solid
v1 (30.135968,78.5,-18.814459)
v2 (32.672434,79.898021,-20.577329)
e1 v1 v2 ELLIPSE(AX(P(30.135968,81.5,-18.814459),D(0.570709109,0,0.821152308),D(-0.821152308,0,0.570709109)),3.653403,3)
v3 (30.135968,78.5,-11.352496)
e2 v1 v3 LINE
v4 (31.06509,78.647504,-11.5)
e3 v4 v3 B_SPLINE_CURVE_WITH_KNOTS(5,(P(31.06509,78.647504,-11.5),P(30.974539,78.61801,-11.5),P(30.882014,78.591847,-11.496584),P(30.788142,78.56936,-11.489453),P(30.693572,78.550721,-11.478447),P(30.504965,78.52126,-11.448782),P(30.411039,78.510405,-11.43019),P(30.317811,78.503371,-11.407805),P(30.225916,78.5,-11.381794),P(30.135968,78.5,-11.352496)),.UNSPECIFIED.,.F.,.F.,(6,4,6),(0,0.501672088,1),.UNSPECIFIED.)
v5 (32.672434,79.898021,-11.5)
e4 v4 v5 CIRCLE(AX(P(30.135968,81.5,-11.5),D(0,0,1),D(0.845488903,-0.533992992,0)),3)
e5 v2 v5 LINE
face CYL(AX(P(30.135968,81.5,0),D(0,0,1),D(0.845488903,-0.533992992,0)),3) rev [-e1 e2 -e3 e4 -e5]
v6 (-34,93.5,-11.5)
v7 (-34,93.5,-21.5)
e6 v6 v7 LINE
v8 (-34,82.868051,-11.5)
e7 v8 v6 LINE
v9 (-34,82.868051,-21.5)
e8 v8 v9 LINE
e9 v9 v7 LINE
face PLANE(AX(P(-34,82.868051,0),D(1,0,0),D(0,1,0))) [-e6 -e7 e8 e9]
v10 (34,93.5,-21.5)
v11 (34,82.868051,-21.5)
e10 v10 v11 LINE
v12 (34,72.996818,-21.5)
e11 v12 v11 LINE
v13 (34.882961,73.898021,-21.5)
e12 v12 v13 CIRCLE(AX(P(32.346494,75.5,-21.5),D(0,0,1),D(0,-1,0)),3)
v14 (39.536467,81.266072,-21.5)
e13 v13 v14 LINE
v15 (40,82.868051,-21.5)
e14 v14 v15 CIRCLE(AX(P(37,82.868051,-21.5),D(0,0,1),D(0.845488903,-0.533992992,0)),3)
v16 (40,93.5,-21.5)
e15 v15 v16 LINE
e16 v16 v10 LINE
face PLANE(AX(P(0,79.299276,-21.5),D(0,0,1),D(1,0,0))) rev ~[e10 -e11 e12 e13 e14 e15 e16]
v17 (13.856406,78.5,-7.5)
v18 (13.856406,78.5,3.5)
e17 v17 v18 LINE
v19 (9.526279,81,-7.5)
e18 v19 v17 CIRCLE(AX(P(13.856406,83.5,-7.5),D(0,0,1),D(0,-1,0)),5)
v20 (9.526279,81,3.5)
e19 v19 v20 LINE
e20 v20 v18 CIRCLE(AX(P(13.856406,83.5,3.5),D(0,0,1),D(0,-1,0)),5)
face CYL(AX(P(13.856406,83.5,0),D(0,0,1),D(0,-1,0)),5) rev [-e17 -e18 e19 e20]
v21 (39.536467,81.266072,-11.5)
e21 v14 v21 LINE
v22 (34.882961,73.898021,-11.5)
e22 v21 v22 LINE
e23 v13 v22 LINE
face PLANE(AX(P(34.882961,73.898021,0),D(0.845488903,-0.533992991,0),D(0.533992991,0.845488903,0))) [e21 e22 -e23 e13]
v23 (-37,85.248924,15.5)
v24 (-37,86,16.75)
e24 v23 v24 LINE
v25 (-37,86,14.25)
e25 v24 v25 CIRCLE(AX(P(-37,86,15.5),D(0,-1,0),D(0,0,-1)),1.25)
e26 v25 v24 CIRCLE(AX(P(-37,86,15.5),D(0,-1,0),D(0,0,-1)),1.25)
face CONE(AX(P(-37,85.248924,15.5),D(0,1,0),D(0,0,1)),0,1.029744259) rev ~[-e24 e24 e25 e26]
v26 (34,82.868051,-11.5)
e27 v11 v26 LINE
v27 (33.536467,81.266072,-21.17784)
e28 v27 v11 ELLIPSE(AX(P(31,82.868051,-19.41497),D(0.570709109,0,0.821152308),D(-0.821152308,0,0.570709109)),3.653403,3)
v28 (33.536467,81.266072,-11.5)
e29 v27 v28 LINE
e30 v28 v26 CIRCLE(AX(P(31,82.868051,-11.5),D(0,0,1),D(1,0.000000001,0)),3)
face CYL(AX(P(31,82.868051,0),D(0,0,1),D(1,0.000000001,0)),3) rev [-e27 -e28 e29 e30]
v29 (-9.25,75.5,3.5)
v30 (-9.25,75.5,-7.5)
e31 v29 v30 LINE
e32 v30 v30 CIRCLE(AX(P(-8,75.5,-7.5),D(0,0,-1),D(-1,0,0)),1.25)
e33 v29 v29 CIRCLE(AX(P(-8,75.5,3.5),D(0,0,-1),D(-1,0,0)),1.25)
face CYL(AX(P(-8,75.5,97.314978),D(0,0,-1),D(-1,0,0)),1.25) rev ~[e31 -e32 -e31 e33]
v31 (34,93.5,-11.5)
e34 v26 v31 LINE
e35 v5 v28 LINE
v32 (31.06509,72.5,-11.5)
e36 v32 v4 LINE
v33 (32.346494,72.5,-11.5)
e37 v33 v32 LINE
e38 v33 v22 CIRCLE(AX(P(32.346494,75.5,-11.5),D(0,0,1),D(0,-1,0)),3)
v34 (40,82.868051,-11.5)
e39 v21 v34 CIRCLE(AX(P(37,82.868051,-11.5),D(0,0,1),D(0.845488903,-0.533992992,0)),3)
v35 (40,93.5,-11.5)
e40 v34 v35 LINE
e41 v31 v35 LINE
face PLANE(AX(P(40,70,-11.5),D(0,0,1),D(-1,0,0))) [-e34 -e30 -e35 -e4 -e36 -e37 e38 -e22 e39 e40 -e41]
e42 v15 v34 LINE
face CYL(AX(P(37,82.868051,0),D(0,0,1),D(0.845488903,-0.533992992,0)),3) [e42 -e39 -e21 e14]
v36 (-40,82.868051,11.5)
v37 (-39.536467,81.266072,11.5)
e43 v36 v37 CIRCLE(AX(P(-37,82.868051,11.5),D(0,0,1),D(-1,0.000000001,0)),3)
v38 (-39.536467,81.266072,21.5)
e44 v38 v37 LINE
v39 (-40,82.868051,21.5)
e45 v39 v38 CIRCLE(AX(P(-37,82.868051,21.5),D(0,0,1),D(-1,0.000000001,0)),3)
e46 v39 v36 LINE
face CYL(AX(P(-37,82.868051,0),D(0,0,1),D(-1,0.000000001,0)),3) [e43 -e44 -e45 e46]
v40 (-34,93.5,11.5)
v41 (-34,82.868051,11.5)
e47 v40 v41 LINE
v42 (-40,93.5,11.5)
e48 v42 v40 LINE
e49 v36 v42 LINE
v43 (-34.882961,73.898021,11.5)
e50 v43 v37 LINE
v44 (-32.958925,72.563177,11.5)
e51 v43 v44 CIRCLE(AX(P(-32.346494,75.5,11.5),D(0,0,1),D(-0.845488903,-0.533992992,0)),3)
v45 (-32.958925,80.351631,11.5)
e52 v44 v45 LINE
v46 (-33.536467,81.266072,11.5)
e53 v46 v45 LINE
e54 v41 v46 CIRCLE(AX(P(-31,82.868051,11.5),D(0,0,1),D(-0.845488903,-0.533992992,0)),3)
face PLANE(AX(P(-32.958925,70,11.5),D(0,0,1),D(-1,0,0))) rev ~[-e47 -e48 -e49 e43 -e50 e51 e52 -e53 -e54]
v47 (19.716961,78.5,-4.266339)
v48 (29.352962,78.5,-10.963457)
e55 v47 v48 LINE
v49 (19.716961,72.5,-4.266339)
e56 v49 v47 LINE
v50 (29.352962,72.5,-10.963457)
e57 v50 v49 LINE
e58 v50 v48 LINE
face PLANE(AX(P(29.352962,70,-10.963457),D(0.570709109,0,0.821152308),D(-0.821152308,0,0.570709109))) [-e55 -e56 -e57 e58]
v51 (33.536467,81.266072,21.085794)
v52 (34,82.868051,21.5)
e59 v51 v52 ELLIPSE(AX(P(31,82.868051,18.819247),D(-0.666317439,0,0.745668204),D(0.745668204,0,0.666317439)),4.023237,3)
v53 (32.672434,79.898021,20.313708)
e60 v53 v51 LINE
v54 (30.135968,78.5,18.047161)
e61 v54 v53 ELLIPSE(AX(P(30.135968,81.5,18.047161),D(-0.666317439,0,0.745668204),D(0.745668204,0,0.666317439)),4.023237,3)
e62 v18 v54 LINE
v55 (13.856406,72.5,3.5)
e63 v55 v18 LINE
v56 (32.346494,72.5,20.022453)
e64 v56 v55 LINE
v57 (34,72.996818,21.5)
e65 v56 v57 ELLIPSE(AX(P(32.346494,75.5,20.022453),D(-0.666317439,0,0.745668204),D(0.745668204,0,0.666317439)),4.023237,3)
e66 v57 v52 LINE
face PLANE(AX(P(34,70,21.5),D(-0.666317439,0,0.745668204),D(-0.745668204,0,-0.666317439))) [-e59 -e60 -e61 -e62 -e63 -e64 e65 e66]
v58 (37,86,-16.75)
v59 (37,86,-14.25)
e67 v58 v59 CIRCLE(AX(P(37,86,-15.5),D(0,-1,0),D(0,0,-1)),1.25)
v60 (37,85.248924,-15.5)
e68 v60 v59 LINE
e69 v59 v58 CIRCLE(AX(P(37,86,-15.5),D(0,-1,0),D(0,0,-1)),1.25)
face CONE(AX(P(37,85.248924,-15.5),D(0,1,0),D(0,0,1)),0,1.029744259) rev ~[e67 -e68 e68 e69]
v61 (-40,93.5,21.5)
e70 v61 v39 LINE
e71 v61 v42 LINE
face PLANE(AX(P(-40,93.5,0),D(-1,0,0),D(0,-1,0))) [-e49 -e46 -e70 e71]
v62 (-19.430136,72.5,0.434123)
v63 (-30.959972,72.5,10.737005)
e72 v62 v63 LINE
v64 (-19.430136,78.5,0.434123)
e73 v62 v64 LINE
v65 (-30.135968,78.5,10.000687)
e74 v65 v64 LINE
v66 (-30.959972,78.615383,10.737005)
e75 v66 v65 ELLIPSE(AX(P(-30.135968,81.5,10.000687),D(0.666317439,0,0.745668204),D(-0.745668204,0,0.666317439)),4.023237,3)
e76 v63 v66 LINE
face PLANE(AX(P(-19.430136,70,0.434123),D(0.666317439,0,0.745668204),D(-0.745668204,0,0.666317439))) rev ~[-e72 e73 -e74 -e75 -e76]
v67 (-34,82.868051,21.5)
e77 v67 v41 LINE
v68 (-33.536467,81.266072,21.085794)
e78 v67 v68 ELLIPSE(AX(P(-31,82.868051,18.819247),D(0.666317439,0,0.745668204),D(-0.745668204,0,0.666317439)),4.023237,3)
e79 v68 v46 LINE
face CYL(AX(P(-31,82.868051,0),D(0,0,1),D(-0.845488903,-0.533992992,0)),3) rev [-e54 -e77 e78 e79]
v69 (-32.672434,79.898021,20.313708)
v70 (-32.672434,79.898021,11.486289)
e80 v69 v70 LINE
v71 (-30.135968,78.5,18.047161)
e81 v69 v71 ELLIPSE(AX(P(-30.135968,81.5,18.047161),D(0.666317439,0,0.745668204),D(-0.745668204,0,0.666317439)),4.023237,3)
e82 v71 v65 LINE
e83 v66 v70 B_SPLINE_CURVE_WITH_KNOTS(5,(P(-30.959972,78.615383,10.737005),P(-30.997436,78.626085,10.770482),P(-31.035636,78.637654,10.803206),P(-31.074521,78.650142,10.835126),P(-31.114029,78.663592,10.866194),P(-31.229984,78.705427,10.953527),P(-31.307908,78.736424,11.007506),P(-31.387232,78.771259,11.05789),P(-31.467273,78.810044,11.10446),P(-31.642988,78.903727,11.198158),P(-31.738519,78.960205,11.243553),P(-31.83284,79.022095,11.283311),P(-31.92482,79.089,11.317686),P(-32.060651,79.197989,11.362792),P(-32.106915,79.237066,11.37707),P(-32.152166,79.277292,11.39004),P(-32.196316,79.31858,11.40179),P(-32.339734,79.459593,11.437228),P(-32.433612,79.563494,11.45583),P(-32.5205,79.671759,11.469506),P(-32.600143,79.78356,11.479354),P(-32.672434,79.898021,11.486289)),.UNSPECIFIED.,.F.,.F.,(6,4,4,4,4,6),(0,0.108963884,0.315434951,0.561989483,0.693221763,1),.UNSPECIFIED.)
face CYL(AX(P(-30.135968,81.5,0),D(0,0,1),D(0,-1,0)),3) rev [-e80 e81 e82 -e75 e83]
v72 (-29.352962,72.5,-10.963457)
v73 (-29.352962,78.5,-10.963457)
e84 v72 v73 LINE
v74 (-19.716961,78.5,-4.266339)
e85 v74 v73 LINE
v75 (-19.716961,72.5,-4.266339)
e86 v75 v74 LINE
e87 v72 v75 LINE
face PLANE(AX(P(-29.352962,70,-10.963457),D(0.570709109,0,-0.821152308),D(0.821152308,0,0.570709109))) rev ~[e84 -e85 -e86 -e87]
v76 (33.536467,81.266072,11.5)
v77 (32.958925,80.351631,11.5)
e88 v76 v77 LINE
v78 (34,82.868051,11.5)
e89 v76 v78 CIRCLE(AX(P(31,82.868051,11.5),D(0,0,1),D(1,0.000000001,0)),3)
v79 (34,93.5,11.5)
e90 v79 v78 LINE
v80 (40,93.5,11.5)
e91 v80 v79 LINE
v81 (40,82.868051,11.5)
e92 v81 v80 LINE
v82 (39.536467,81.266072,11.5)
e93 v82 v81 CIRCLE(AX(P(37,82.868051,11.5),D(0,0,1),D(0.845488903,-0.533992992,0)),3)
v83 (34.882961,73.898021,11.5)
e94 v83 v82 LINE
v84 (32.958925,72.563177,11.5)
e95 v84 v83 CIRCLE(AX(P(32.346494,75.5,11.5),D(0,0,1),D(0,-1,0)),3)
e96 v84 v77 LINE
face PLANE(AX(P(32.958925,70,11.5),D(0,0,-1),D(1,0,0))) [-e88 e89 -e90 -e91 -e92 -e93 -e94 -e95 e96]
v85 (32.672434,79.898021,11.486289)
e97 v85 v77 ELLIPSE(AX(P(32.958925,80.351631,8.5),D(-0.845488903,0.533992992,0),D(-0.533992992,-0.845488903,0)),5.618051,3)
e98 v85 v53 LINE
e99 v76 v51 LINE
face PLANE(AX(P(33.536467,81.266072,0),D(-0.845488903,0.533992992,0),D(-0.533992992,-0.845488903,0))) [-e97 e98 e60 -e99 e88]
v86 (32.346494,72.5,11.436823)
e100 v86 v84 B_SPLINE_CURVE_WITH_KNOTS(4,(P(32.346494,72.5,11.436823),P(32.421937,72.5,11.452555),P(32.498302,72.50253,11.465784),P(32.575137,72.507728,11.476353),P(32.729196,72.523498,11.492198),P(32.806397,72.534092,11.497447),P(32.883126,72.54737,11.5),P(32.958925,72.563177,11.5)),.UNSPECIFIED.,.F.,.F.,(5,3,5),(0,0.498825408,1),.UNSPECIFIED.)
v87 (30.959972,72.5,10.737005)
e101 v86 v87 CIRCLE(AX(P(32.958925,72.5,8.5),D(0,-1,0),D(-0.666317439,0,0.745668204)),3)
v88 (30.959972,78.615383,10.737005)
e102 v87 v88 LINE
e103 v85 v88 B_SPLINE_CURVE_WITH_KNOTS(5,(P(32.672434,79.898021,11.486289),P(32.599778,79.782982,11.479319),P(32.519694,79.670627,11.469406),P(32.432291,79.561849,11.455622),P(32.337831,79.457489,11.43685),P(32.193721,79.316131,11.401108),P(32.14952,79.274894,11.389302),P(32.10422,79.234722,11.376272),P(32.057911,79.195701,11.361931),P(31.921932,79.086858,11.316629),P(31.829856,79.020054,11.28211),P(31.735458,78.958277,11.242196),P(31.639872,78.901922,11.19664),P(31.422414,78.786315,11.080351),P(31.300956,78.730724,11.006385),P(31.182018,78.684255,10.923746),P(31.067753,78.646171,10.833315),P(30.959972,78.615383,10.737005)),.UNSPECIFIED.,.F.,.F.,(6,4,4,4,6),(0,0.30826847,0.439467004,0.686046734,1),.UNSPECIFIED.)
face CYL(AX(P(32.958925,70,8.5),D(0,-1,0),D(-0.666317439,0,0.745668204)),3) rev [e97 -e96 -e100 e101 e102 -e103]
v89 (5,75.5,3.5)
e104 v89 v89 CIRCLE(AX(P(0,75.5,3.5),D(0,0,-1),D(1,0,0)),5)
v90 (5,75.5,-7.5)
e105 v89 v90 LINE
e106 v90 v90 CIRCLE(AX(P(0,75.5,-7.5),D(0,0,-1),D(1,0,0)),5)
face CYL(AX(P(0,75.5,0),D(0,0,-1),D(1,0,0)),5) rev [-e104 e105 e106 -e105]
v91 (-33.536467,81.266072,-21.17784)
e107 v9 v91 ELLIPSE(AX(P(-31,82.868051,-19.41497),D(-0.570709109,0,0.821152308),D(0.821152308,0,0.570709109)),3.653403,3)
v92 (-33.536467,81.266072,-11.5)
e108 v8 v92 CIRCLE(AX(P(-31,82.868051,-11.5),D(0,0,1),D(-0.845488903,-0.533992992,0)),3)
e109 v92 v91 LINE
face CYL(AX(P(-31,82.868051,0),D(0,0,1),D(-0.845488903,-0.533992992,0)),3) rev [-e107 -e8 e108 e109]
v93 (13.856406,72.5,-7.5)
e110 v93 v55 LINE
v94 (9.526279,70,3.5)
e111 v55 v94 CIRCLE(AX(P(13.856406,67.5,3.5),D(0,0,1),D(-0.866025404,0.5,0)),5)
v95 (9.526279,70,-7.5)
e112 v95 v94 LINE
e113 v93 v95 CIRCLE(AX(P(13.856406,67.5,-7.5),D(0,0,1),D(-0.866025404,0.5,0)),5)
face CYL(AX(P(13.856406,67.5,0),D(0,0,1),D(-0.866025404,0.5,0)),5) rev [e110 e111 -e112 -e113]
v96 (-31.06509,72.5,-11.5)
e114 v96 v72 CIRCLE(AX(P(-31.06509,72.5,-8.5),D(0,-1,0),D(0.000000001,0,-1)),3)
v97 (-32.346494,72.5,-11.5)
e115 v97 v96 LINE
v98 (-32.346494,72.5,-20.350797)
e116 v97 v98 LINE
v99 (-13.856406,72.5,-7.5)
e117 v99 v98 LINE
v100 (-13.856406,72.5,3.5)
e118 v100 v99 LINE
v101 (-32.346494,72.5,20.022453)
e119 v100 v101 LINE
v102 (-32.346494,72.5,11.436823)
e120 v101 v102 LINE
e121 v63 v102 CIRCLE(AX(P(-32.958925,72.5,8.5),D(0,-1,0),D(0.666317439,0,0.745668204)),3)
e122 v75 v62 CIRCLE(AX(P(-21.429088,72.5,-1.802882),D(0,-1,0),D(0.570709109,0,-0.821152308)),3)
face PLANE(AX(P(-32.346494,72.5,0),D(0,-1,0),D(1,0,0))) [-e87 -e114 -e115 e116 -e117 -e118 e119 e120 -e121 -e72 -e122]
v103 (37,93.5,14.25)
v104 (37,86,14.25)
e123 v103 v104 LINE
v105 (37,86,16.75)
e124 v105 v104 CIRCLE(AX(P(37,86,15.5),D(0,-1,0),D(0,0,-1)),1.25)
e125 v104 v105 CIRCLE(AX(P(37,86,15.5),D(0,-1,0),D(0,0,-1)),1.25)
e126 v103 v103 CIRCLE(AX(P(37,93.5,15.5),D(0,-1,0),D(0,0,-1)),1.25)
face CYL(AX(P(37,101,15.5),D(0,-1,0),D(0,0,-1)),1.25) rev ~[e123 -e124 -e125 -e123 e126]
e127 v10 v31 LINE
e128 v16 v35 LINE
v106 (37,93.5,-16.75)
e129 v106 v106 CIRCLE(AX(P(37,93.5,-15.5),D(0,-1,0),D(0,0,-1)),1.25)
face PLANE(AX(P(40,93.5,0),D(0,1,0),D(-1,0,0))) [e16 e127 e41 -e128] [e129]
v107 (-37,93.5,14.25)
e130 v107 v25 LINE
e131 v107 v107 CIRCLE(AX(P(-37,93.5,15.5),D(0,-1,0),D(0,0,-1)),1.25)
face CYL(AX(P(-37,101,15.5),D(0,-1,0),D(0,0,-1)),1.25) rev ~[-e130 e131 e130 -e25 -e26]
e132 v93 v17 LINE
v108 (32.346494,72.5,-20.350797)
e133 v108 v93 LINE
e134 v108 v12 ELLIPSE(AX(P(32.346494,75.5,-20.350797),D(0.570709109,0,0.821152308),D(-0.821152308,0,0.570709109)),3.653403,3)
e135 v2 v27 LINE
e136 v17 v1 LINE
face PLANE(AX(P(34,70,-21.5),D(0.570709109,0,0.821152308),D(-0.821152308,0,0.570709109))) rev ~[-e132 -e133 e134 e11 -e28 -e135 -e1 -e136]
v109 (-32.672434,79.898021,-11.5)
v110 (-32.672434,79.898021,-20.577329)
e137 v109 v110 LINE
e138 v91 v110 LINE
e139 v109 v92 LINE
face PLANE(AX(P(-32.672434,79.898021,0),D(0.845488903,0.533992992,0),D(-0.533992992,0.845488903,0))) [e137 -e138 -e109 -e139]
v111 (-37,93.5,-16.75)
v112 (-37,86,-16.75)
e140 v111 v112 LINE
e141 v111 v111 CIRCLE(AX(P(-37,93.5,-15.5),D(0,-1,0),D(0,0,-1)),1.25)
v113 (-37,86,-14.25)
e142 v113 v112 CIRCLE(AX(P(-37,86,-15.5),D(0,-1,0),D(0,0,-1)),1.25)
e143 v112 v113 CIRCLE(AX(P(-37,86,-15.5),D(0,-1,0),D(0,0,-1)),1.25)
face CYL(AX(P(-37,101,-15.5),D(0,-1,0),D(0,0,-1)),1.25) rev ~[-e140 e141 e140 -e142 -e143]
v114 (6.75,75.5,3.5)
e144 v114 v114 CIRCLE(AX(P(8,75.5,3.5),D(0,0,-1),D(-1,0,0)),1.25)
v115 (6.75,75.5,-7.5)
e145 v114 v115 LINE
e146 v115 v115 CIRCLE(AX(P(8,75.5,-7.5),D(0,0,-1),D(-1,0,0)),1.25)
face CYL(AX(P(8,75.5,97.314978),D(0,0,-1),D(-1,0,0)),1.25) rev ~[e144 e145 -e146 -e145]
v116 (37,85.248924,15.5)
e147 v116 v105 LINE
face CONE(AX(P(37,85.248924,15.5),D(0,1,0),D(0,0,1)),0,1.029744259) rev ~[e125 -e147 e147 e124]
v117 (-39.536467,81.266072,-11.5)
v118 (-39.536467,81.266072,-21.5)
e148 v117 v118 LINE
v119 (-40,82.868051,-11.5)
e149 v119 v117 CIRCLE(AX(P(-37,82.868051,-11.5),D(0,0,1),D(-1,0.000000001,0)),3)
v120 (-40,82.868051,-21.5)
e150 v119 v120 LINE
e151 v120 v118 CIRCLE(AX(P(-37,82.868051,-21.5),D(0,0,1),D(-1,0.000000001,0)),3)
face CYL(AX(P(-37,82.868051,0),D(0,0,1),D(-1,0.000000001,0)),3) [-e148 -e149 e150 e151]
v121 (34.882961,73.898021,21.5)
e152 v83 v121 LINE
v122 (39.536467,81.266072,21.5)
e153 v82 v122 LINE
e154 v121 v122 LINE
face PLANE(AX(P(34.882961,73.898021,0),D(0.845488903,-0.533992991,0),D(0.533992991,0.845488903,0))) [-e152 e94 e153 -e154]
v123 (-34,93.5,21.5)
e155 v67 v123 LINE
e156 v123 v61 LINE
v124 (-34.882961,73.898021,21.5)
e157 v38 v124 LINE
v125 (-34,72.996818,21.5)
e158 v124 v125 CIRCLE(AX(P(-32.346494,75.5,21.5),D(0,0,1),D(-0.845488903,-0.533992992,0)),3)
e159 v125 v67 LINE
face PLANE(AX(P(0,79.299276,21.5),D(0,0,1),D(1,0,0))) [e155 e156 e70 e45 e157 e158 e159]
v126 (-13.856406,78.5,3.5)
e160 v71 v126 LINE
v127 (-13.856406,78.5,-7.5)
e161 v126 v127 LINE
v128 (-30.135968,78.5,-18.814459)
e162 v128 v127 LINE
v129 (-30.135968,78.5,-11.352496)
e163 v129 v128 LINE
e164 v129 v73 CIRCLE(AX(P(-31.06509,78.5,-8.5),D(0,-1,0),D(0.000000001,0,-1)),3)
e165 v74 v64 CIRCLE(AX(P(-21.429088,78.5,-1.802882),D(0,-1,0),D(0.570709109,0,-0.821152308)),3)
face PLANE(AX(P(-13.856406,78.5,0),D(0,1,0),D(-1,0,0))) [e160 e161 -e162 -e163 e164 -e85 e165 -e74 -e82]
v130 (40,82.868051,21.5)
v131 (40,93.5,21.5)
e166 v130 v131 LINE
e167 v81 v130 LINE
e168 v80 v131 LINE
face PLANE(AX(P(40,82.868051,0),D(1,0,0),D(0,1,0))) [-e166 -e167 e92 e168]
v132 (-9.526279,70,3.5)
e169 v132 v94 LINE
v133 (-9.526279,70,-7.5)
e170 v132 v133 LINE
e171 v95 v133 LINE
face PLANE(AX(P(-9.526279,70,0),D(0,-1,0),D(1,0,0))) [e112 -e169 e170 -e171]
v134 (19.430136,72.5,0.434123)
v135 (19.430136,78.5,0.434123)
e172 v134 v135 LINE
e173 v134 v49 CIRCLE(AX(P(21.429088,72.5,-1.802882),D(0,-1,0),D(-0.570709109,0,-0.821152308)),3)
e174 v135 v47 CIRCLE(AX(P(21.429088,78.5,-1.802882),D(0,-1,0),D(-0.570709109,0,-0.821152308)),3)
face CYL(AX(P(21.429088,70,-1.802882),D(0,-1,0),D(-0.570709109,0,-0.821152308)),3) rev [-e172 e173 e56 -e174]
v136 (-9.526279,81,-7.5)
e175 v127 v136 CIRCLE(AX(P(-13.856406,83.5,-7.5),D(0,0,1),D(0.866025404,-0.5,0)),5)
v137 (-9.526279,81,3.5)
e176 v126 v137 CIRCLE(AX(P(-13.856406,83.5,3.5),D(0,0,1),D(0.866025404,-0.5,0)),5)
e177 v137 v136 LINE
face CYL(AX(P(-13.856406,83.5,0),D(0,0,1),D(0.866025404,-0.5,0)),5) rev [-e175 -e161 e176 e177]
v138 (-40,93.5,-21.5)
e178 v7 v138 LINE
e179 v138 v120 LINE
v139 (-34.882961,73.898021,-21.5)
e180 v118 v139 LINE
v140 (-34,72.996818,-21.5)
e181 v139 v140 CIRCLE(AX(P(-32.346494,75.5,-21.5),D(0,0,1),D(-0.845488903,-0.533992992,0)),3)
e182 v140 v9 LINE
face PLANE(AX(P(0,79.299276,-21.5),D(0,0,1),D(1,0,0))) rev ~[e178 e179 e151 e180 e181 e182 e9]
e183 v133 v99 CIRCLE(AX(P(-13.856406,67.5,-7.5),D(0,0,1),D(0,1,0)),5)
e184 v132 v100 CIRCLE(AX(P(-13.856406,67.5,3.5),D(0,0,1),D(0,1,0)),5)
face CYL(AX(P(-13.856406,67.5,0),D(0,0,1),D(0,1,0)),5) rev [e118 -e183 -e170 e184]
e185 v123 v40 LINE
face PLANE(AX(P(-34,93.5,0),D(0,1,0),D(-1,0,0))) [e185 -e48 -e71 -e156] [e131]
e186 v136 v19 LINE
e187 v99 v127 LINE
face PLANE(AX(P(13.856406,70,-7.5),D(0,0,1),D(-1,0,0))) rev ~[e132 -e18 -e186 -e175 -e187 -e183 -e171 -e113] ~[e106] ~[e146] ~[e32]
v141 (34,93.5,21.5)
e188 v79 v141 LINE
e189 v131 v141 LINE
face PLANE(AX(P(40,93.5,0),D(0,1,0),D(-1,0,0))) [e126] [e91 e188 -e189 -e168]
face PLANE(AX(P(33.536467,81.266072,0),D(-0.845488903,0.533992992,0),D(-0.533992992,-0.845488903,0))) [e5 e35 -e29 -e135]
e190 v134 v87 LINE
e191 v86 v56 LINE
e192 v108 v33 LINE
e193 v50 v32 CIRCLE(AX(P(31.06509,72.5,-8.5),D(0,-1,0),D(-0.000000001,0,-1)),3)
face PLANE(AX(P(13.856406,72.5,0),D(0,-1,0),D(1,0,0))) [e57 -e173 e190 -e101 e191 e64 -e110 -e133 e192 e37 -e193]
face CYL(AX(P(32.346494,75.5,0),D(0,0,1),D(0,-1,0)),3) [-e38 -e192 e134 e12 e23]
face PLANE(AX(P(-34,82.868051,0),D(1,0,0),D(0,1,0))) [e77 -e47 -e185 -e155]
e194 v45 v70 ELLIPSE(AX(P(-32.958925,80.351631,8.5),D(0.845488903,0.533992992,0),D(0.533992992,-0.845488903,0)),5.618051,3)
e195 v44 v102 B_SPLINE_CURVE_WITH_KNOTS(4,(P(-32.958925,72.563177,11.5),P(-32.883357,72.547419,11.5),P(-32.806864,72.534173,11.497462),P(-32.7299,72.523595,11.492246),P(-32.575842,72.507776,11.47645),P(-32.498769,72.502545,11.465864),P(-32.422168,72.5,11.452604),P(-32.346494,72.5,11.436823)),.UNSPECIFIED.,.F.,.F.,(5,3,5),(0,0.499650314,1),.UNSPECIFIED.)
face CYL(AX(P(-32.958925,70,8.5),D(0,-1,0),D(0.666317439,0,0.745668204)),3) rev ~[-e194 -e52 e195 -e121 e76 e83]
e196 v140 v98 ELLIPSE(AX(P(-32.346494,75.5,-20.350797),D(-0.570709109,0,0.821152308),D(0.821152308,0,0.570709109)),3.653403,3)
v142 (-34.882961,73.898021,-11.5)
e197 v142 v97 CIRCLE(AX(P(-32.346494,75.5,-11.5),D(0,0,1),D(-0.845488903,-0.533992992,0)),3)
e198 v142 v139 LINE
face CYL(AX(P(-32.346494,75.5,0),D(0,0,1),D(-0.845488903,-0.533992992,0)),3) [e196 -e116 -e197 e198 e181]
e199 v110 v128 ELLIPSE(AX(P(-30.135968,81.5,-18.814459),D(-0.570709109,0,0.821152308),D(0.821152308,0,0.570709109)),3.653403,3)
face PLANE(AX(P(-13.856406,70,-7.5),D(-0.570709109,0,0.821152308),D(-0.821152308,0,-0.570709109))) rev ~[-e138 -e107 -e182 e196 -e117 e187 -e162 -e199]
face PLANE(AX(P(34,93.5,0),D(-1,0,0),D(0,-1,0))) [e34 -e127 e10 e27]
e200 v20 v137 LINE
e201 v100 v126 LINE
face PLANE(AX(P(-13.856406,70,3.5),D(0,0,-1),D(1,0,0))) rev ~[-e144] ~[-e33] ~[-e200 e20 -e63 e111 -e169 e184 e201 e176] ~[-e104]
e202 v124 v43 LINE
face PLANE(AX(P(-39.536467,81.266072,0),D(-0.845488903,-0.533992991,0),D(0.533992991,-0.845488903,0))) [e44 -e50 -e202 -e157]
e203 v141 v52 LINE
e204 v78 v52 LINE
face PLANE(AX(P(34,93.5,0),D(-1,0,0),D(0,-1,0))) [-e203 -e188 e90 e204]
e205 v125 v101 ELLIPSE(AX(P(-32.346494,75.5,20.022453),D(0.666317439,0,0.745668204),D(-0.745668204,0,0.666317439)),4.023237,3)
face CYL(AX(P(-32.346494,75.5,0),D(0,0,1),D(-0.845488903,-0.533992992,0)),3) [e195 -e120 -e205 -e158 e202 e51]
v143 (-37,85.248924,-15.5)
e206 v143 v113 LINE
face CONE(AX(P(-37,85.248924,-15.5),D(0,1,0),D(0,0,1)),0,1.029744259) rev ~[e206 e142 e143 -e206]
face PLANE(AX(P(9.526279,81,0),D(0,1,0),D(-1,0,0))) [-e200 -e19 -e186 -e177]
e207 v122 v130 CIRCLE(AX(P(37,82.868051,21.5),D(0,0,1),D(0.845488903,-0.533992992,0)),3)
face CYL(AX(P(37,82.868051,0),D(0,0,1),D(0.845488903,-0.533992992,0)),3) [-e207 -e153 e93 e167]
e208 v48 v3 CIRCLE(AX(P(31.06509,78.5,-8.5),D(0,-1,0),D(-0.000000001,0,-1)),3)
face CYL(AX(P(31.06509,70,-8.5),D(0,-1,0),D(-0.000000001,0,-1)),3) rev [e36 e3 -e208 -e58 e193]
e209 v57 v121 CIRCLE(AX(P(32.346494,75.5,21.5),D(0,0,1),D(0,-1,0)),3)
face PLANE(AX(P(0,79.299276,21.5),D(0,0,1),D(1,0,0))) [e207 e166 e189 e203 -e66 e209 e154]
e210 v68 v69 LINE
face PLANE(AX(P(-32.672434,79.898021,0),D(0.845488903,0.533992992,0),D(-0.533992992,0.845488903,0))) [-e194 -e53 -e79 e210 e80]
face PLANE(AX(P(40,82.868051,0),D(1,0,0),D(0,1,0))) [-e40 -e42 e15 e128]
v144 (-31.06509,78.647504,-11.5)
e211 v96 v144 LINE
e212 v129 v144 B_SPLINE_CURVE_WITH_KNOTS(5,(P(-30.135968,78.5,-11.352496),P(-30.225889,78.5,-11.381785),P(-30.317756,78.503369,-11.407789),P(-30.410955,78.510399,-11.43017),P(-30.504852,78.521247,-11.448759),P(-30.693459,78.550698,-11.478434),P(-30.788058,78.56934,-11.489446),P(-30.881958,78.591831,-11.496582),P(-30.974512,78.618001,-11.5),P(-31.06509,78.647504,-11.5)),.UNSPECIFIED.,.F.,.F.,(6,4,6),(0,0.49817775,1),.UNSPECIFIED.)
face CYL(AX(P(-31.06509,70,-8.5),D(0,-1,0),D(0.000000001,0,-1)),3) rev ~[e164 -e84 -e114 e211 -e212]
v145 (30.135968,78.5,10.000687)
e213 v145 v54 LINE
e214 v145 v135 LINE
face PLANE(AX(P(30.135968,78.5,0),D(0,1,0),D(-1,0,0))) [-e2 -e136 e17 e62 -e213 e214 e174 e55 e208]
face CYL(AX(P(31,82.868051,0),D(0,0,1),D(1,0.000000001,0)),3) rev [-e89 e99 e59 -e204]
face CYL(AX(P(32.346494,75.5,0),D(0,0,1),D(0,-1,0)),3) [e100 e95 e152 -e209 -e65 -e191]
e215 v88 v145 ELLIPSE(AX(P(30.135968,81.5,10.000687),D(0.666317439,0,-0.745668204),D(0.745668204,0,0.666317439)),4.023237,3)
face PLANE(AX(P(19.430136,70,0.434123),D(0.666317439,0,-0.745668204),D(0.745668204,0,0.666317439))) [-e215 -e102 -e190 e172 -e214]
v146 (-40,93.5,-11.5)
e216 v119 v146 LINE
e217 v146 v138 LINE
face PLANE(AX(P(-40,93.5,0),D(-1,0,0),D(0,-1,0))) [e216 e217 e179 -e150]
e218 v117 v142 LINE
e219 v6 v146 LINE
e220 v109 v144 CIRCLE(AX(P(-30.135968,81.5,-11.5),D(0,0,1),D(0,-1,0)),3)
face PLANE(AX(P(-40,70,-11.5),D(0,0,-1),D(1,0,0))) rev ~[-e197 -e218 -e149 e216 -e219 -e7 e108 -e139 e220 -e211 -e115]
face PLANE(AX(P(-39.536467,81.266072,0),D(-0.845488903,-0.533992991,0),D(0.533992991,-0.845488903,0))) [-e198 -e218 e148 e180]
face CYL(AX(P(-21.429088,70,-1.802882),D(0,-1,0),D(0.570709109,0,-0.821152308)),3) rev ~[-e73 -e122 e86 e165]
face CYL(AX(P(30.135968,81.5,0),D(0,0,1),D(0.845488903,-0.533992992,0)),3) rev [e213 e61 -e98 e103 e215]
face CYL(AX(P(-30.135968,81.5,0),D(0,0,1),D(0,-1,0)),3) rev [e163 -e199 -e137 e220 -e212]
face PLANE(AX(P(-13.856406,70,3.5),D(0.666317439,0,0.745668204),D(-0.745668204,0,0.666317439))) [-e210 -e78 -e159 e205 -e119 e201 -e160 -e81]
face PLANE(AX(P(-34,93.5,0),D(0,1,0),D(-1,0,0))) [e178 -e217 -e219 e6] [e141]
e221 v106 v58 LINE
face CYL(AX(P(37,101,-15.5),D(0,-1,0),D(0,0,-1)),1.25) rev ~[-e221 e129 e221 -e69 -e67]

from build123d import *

# Parameters (mm, degrees)
SKETCH15_R            = 5
BOSS_EXTRUDE7_DEPTH   = 21.5
CUT_EXTRUDE6_DEPTH    = 52.132181647
CUT_EXTRUDE7_DEPTH    = 52.132181647
M3_TAPPED_HOLE1_D     = 2.5
M3_TAPPED_HOLE2_D     = 2.5
M3_TAPPED_HOLE2_DEPTH = 7.5
M3_TAPPED_HOLE2_TIP   = 0.751075774


with BuildPart() as part:
    # Sketch15 → Boss-Extrude7 (new, symmetric)
    with BuildSketch(Plane.XY):
        with BuildLine():
            Line((-9.526279442, 70), (9.526279442, 70))
            ThreePointArc((9.526279442, 70), (11.356406461, 71.830127019), (13.856406461, 72.5))
            Line((13.856406461, 72.5), (32.346493939, 72.5))
            ThreePointArc((32.346493939, 72.5), (33.794607035, 72.872649917), (34.882960648, 73.898021026))
            Line((34.882960648, 73.898021026), (39.536466709, 81.266072289))
            ThreePointArc((39.536466709, 81.266072289), (39.881787651, 82.034204793), (40, 82.868051264))
            Line((40, 82.868051264), (40, 93.5))
            Line((40, 93.5), (34, 93.5))
            Line((34, 93.5), (34, 82.868051264))
            ThreePointArc((34, 82.868051264), (33.881787651, 82.034204793), (33.536466709, 81.266072289))
            Line((33.536466709, 81.266072289), (32.672434332, 79.898021026))
            ThreePointArc((32.672434332, 79.898021026), (31.584080719, 78.872649917), (30.135967623, 78.5))
            Line((30.135967623, 78.5), (13.856406461, 78.5))
            ThreePointArc((13.856406461, 78.5), (11.356406461, 79.169872981), (9.526279442, 81))
            Line((9.526279442, 81), (-9.526279442, 81))
            ThreePointArc((-9.526279442, 81), (-11.356406461, 79.169872981), (-13.856406461, 78.5))
            Line((-13.856406461, 78.5), (-30.135967623, 78.5))
            ThreePointArc((-30.135967623, 78.5), (-31.584080719, 78.872649917), (-32.672434332, 79.898021026))
            Line((-32.672434332, 79.898021026), (-33.536466709, 81.266072289))
            ThreePointArc((-33.536466709, 81.266072289), (-33.881787651, 82.034204793), (-34, 82.868051264))
            Line((-34, 82.868051264), (-34, 93.5))
            Line((-34, 93.5), (-40, 93.5))
            Line((-40, 93.5), (-40, 82.868051264))
            ThreePointArc((-40, 82.868051264), (-39.881787651, 82.034204793), (-39.536466709, 81.266072289))
            Line((-39.536466709, 81.266072289), (-34.882960648, 73.898021026))
            ThreePointArc((-34.882960648, 73.898021026), (-33.794607035, 72.872649917), (-32.346493939, 72.5))
            Line((-32.346493939, 72.5), (-13.856406461, 72.5))
            ThreePointArc((-13.856406461, 72.5), (-11.356406461, 71.830127019), (-9.526279442, 70))
        make_face()
        with Locations((0, 75.5)):
            Circle(SKETCH15_R, mode=Mode.SUBTRACT)
    extrude(amount=BOSS_EXTRUDE7_DEPTH, both=True)

    # Sketch16 → Cut-Extrude6 (cut, through all)
    with BuildSketch(Plane.XZ.offset(-70)):
        Polygon((-9.526279442, 3.5), (-13.856406461, 3.5), (-34, 21.5), (34, 21.5), (13.856406461, 3.5), (9.526279442, 3.5), align=None)
        Polygon((-9.526279442, -7.5), (-13.856406461, -7.5), (-34, -21.5), (34, -21.5), (13.856406461, -7.5), (9.526279442, -7.5), align=None)
    extrude(amount=-CUT_EXTRUDE6_DEPTH, mode=Mode.SUBTRACT)

    # Sketch18 → Cut-Extrude7 (cut, through all)
    with BuildSketch(Plane.XZ.offset(-70)):
        with BuildLine():
            Line((-19.430135511, 0.434122818), (-30.959972352, 10.737004611))
            ThreePointArc((-30.959972352, 10.737004611), (-31.889114835, 11.302767724), (-32.95892467, 11.5))
            Line((-32.95892467, 11.5), (-40, 11.5))
            Line((-40, 11.5), (-40, -11.5))
            Line((-40, -11.5), (-31.065089761, -11.5))
            ThreePointArc((-31.065089761, -11.5), (-30.167975157, -11.362723421), (-29.352962435, -10.963456925))
            Line((-29.352962435, -10.963456925), (-19.716960503, -4.266338718))
            ThreePointArc((-19.716960503, -4.266338718), (-18.434657551, -1.985603731), (-19.430135511, 0.434122818))
        make_face()
        with BuildLine():
            Line((40, -11.5), (31.065089761, -11.5))
            ThreePointArc((31.065089761, -11.5), (30.167975157, -11.362723421), (29.352962435, -10.963456925))
            Line((29.352962435, -10.963456925), (19.716960503, -4.266338718))
            ThreePointArc((19.716960503, -4.266338718), (18.434657551, -1.985603731), (19.430135511, 0.434122818))
            Line((19.430135511, 0.434122818), (30.959972352, 10.737004611))
            ThreePointArc((30.959972352, 10.737004611), (31.889114835, 11.302767724), (32.95892467, 11.5))
            Line((32.95892467, 11.5), (40, 11.5))
            Line((40, 11.5), (40, -11.5))
        make_face()
    extrude(amount=-CUT_EXTRUDE7_DEPTH, mode=Mode.SUBTRACT)

    # M3 Tapped Hole1 (through all)
    with Locations(Plane(origin=(-8, 75.5, 3.5), x_dir=(1, 0, 0), z_dir=(0, 0, 1))):
        with Locations((0, 0), (16, 0)):
            Hole(M3_TAPPED_HOLE1_D / 2)

    # M3 Tapped Hole2
    with Locations(Plane(origin=(-37, 93.5, -15.5), x_dir=(0, 0, 1), z_dir=(0, 1, 0))):
        with Locations((0, 0), (0, 74), (31, 74), (31, 0)):
            Hole(M3_TAPPED_HOLE2_D / 2, depth=M3_TAPPED_HOLE2_DEPTH)
            with Locations((0, 0, -(M3_TAPPED_HOLE2_DEPTH + M3_TAPPED_HOLE2_TIP / 2))):  # 118° drill point
                Cone(0, M3_TAPPED_HOLE2_D / 2, M3_TAPPED_HOLE2_TIP, mode=Mode.SUBTRACT)


solid = part.part
